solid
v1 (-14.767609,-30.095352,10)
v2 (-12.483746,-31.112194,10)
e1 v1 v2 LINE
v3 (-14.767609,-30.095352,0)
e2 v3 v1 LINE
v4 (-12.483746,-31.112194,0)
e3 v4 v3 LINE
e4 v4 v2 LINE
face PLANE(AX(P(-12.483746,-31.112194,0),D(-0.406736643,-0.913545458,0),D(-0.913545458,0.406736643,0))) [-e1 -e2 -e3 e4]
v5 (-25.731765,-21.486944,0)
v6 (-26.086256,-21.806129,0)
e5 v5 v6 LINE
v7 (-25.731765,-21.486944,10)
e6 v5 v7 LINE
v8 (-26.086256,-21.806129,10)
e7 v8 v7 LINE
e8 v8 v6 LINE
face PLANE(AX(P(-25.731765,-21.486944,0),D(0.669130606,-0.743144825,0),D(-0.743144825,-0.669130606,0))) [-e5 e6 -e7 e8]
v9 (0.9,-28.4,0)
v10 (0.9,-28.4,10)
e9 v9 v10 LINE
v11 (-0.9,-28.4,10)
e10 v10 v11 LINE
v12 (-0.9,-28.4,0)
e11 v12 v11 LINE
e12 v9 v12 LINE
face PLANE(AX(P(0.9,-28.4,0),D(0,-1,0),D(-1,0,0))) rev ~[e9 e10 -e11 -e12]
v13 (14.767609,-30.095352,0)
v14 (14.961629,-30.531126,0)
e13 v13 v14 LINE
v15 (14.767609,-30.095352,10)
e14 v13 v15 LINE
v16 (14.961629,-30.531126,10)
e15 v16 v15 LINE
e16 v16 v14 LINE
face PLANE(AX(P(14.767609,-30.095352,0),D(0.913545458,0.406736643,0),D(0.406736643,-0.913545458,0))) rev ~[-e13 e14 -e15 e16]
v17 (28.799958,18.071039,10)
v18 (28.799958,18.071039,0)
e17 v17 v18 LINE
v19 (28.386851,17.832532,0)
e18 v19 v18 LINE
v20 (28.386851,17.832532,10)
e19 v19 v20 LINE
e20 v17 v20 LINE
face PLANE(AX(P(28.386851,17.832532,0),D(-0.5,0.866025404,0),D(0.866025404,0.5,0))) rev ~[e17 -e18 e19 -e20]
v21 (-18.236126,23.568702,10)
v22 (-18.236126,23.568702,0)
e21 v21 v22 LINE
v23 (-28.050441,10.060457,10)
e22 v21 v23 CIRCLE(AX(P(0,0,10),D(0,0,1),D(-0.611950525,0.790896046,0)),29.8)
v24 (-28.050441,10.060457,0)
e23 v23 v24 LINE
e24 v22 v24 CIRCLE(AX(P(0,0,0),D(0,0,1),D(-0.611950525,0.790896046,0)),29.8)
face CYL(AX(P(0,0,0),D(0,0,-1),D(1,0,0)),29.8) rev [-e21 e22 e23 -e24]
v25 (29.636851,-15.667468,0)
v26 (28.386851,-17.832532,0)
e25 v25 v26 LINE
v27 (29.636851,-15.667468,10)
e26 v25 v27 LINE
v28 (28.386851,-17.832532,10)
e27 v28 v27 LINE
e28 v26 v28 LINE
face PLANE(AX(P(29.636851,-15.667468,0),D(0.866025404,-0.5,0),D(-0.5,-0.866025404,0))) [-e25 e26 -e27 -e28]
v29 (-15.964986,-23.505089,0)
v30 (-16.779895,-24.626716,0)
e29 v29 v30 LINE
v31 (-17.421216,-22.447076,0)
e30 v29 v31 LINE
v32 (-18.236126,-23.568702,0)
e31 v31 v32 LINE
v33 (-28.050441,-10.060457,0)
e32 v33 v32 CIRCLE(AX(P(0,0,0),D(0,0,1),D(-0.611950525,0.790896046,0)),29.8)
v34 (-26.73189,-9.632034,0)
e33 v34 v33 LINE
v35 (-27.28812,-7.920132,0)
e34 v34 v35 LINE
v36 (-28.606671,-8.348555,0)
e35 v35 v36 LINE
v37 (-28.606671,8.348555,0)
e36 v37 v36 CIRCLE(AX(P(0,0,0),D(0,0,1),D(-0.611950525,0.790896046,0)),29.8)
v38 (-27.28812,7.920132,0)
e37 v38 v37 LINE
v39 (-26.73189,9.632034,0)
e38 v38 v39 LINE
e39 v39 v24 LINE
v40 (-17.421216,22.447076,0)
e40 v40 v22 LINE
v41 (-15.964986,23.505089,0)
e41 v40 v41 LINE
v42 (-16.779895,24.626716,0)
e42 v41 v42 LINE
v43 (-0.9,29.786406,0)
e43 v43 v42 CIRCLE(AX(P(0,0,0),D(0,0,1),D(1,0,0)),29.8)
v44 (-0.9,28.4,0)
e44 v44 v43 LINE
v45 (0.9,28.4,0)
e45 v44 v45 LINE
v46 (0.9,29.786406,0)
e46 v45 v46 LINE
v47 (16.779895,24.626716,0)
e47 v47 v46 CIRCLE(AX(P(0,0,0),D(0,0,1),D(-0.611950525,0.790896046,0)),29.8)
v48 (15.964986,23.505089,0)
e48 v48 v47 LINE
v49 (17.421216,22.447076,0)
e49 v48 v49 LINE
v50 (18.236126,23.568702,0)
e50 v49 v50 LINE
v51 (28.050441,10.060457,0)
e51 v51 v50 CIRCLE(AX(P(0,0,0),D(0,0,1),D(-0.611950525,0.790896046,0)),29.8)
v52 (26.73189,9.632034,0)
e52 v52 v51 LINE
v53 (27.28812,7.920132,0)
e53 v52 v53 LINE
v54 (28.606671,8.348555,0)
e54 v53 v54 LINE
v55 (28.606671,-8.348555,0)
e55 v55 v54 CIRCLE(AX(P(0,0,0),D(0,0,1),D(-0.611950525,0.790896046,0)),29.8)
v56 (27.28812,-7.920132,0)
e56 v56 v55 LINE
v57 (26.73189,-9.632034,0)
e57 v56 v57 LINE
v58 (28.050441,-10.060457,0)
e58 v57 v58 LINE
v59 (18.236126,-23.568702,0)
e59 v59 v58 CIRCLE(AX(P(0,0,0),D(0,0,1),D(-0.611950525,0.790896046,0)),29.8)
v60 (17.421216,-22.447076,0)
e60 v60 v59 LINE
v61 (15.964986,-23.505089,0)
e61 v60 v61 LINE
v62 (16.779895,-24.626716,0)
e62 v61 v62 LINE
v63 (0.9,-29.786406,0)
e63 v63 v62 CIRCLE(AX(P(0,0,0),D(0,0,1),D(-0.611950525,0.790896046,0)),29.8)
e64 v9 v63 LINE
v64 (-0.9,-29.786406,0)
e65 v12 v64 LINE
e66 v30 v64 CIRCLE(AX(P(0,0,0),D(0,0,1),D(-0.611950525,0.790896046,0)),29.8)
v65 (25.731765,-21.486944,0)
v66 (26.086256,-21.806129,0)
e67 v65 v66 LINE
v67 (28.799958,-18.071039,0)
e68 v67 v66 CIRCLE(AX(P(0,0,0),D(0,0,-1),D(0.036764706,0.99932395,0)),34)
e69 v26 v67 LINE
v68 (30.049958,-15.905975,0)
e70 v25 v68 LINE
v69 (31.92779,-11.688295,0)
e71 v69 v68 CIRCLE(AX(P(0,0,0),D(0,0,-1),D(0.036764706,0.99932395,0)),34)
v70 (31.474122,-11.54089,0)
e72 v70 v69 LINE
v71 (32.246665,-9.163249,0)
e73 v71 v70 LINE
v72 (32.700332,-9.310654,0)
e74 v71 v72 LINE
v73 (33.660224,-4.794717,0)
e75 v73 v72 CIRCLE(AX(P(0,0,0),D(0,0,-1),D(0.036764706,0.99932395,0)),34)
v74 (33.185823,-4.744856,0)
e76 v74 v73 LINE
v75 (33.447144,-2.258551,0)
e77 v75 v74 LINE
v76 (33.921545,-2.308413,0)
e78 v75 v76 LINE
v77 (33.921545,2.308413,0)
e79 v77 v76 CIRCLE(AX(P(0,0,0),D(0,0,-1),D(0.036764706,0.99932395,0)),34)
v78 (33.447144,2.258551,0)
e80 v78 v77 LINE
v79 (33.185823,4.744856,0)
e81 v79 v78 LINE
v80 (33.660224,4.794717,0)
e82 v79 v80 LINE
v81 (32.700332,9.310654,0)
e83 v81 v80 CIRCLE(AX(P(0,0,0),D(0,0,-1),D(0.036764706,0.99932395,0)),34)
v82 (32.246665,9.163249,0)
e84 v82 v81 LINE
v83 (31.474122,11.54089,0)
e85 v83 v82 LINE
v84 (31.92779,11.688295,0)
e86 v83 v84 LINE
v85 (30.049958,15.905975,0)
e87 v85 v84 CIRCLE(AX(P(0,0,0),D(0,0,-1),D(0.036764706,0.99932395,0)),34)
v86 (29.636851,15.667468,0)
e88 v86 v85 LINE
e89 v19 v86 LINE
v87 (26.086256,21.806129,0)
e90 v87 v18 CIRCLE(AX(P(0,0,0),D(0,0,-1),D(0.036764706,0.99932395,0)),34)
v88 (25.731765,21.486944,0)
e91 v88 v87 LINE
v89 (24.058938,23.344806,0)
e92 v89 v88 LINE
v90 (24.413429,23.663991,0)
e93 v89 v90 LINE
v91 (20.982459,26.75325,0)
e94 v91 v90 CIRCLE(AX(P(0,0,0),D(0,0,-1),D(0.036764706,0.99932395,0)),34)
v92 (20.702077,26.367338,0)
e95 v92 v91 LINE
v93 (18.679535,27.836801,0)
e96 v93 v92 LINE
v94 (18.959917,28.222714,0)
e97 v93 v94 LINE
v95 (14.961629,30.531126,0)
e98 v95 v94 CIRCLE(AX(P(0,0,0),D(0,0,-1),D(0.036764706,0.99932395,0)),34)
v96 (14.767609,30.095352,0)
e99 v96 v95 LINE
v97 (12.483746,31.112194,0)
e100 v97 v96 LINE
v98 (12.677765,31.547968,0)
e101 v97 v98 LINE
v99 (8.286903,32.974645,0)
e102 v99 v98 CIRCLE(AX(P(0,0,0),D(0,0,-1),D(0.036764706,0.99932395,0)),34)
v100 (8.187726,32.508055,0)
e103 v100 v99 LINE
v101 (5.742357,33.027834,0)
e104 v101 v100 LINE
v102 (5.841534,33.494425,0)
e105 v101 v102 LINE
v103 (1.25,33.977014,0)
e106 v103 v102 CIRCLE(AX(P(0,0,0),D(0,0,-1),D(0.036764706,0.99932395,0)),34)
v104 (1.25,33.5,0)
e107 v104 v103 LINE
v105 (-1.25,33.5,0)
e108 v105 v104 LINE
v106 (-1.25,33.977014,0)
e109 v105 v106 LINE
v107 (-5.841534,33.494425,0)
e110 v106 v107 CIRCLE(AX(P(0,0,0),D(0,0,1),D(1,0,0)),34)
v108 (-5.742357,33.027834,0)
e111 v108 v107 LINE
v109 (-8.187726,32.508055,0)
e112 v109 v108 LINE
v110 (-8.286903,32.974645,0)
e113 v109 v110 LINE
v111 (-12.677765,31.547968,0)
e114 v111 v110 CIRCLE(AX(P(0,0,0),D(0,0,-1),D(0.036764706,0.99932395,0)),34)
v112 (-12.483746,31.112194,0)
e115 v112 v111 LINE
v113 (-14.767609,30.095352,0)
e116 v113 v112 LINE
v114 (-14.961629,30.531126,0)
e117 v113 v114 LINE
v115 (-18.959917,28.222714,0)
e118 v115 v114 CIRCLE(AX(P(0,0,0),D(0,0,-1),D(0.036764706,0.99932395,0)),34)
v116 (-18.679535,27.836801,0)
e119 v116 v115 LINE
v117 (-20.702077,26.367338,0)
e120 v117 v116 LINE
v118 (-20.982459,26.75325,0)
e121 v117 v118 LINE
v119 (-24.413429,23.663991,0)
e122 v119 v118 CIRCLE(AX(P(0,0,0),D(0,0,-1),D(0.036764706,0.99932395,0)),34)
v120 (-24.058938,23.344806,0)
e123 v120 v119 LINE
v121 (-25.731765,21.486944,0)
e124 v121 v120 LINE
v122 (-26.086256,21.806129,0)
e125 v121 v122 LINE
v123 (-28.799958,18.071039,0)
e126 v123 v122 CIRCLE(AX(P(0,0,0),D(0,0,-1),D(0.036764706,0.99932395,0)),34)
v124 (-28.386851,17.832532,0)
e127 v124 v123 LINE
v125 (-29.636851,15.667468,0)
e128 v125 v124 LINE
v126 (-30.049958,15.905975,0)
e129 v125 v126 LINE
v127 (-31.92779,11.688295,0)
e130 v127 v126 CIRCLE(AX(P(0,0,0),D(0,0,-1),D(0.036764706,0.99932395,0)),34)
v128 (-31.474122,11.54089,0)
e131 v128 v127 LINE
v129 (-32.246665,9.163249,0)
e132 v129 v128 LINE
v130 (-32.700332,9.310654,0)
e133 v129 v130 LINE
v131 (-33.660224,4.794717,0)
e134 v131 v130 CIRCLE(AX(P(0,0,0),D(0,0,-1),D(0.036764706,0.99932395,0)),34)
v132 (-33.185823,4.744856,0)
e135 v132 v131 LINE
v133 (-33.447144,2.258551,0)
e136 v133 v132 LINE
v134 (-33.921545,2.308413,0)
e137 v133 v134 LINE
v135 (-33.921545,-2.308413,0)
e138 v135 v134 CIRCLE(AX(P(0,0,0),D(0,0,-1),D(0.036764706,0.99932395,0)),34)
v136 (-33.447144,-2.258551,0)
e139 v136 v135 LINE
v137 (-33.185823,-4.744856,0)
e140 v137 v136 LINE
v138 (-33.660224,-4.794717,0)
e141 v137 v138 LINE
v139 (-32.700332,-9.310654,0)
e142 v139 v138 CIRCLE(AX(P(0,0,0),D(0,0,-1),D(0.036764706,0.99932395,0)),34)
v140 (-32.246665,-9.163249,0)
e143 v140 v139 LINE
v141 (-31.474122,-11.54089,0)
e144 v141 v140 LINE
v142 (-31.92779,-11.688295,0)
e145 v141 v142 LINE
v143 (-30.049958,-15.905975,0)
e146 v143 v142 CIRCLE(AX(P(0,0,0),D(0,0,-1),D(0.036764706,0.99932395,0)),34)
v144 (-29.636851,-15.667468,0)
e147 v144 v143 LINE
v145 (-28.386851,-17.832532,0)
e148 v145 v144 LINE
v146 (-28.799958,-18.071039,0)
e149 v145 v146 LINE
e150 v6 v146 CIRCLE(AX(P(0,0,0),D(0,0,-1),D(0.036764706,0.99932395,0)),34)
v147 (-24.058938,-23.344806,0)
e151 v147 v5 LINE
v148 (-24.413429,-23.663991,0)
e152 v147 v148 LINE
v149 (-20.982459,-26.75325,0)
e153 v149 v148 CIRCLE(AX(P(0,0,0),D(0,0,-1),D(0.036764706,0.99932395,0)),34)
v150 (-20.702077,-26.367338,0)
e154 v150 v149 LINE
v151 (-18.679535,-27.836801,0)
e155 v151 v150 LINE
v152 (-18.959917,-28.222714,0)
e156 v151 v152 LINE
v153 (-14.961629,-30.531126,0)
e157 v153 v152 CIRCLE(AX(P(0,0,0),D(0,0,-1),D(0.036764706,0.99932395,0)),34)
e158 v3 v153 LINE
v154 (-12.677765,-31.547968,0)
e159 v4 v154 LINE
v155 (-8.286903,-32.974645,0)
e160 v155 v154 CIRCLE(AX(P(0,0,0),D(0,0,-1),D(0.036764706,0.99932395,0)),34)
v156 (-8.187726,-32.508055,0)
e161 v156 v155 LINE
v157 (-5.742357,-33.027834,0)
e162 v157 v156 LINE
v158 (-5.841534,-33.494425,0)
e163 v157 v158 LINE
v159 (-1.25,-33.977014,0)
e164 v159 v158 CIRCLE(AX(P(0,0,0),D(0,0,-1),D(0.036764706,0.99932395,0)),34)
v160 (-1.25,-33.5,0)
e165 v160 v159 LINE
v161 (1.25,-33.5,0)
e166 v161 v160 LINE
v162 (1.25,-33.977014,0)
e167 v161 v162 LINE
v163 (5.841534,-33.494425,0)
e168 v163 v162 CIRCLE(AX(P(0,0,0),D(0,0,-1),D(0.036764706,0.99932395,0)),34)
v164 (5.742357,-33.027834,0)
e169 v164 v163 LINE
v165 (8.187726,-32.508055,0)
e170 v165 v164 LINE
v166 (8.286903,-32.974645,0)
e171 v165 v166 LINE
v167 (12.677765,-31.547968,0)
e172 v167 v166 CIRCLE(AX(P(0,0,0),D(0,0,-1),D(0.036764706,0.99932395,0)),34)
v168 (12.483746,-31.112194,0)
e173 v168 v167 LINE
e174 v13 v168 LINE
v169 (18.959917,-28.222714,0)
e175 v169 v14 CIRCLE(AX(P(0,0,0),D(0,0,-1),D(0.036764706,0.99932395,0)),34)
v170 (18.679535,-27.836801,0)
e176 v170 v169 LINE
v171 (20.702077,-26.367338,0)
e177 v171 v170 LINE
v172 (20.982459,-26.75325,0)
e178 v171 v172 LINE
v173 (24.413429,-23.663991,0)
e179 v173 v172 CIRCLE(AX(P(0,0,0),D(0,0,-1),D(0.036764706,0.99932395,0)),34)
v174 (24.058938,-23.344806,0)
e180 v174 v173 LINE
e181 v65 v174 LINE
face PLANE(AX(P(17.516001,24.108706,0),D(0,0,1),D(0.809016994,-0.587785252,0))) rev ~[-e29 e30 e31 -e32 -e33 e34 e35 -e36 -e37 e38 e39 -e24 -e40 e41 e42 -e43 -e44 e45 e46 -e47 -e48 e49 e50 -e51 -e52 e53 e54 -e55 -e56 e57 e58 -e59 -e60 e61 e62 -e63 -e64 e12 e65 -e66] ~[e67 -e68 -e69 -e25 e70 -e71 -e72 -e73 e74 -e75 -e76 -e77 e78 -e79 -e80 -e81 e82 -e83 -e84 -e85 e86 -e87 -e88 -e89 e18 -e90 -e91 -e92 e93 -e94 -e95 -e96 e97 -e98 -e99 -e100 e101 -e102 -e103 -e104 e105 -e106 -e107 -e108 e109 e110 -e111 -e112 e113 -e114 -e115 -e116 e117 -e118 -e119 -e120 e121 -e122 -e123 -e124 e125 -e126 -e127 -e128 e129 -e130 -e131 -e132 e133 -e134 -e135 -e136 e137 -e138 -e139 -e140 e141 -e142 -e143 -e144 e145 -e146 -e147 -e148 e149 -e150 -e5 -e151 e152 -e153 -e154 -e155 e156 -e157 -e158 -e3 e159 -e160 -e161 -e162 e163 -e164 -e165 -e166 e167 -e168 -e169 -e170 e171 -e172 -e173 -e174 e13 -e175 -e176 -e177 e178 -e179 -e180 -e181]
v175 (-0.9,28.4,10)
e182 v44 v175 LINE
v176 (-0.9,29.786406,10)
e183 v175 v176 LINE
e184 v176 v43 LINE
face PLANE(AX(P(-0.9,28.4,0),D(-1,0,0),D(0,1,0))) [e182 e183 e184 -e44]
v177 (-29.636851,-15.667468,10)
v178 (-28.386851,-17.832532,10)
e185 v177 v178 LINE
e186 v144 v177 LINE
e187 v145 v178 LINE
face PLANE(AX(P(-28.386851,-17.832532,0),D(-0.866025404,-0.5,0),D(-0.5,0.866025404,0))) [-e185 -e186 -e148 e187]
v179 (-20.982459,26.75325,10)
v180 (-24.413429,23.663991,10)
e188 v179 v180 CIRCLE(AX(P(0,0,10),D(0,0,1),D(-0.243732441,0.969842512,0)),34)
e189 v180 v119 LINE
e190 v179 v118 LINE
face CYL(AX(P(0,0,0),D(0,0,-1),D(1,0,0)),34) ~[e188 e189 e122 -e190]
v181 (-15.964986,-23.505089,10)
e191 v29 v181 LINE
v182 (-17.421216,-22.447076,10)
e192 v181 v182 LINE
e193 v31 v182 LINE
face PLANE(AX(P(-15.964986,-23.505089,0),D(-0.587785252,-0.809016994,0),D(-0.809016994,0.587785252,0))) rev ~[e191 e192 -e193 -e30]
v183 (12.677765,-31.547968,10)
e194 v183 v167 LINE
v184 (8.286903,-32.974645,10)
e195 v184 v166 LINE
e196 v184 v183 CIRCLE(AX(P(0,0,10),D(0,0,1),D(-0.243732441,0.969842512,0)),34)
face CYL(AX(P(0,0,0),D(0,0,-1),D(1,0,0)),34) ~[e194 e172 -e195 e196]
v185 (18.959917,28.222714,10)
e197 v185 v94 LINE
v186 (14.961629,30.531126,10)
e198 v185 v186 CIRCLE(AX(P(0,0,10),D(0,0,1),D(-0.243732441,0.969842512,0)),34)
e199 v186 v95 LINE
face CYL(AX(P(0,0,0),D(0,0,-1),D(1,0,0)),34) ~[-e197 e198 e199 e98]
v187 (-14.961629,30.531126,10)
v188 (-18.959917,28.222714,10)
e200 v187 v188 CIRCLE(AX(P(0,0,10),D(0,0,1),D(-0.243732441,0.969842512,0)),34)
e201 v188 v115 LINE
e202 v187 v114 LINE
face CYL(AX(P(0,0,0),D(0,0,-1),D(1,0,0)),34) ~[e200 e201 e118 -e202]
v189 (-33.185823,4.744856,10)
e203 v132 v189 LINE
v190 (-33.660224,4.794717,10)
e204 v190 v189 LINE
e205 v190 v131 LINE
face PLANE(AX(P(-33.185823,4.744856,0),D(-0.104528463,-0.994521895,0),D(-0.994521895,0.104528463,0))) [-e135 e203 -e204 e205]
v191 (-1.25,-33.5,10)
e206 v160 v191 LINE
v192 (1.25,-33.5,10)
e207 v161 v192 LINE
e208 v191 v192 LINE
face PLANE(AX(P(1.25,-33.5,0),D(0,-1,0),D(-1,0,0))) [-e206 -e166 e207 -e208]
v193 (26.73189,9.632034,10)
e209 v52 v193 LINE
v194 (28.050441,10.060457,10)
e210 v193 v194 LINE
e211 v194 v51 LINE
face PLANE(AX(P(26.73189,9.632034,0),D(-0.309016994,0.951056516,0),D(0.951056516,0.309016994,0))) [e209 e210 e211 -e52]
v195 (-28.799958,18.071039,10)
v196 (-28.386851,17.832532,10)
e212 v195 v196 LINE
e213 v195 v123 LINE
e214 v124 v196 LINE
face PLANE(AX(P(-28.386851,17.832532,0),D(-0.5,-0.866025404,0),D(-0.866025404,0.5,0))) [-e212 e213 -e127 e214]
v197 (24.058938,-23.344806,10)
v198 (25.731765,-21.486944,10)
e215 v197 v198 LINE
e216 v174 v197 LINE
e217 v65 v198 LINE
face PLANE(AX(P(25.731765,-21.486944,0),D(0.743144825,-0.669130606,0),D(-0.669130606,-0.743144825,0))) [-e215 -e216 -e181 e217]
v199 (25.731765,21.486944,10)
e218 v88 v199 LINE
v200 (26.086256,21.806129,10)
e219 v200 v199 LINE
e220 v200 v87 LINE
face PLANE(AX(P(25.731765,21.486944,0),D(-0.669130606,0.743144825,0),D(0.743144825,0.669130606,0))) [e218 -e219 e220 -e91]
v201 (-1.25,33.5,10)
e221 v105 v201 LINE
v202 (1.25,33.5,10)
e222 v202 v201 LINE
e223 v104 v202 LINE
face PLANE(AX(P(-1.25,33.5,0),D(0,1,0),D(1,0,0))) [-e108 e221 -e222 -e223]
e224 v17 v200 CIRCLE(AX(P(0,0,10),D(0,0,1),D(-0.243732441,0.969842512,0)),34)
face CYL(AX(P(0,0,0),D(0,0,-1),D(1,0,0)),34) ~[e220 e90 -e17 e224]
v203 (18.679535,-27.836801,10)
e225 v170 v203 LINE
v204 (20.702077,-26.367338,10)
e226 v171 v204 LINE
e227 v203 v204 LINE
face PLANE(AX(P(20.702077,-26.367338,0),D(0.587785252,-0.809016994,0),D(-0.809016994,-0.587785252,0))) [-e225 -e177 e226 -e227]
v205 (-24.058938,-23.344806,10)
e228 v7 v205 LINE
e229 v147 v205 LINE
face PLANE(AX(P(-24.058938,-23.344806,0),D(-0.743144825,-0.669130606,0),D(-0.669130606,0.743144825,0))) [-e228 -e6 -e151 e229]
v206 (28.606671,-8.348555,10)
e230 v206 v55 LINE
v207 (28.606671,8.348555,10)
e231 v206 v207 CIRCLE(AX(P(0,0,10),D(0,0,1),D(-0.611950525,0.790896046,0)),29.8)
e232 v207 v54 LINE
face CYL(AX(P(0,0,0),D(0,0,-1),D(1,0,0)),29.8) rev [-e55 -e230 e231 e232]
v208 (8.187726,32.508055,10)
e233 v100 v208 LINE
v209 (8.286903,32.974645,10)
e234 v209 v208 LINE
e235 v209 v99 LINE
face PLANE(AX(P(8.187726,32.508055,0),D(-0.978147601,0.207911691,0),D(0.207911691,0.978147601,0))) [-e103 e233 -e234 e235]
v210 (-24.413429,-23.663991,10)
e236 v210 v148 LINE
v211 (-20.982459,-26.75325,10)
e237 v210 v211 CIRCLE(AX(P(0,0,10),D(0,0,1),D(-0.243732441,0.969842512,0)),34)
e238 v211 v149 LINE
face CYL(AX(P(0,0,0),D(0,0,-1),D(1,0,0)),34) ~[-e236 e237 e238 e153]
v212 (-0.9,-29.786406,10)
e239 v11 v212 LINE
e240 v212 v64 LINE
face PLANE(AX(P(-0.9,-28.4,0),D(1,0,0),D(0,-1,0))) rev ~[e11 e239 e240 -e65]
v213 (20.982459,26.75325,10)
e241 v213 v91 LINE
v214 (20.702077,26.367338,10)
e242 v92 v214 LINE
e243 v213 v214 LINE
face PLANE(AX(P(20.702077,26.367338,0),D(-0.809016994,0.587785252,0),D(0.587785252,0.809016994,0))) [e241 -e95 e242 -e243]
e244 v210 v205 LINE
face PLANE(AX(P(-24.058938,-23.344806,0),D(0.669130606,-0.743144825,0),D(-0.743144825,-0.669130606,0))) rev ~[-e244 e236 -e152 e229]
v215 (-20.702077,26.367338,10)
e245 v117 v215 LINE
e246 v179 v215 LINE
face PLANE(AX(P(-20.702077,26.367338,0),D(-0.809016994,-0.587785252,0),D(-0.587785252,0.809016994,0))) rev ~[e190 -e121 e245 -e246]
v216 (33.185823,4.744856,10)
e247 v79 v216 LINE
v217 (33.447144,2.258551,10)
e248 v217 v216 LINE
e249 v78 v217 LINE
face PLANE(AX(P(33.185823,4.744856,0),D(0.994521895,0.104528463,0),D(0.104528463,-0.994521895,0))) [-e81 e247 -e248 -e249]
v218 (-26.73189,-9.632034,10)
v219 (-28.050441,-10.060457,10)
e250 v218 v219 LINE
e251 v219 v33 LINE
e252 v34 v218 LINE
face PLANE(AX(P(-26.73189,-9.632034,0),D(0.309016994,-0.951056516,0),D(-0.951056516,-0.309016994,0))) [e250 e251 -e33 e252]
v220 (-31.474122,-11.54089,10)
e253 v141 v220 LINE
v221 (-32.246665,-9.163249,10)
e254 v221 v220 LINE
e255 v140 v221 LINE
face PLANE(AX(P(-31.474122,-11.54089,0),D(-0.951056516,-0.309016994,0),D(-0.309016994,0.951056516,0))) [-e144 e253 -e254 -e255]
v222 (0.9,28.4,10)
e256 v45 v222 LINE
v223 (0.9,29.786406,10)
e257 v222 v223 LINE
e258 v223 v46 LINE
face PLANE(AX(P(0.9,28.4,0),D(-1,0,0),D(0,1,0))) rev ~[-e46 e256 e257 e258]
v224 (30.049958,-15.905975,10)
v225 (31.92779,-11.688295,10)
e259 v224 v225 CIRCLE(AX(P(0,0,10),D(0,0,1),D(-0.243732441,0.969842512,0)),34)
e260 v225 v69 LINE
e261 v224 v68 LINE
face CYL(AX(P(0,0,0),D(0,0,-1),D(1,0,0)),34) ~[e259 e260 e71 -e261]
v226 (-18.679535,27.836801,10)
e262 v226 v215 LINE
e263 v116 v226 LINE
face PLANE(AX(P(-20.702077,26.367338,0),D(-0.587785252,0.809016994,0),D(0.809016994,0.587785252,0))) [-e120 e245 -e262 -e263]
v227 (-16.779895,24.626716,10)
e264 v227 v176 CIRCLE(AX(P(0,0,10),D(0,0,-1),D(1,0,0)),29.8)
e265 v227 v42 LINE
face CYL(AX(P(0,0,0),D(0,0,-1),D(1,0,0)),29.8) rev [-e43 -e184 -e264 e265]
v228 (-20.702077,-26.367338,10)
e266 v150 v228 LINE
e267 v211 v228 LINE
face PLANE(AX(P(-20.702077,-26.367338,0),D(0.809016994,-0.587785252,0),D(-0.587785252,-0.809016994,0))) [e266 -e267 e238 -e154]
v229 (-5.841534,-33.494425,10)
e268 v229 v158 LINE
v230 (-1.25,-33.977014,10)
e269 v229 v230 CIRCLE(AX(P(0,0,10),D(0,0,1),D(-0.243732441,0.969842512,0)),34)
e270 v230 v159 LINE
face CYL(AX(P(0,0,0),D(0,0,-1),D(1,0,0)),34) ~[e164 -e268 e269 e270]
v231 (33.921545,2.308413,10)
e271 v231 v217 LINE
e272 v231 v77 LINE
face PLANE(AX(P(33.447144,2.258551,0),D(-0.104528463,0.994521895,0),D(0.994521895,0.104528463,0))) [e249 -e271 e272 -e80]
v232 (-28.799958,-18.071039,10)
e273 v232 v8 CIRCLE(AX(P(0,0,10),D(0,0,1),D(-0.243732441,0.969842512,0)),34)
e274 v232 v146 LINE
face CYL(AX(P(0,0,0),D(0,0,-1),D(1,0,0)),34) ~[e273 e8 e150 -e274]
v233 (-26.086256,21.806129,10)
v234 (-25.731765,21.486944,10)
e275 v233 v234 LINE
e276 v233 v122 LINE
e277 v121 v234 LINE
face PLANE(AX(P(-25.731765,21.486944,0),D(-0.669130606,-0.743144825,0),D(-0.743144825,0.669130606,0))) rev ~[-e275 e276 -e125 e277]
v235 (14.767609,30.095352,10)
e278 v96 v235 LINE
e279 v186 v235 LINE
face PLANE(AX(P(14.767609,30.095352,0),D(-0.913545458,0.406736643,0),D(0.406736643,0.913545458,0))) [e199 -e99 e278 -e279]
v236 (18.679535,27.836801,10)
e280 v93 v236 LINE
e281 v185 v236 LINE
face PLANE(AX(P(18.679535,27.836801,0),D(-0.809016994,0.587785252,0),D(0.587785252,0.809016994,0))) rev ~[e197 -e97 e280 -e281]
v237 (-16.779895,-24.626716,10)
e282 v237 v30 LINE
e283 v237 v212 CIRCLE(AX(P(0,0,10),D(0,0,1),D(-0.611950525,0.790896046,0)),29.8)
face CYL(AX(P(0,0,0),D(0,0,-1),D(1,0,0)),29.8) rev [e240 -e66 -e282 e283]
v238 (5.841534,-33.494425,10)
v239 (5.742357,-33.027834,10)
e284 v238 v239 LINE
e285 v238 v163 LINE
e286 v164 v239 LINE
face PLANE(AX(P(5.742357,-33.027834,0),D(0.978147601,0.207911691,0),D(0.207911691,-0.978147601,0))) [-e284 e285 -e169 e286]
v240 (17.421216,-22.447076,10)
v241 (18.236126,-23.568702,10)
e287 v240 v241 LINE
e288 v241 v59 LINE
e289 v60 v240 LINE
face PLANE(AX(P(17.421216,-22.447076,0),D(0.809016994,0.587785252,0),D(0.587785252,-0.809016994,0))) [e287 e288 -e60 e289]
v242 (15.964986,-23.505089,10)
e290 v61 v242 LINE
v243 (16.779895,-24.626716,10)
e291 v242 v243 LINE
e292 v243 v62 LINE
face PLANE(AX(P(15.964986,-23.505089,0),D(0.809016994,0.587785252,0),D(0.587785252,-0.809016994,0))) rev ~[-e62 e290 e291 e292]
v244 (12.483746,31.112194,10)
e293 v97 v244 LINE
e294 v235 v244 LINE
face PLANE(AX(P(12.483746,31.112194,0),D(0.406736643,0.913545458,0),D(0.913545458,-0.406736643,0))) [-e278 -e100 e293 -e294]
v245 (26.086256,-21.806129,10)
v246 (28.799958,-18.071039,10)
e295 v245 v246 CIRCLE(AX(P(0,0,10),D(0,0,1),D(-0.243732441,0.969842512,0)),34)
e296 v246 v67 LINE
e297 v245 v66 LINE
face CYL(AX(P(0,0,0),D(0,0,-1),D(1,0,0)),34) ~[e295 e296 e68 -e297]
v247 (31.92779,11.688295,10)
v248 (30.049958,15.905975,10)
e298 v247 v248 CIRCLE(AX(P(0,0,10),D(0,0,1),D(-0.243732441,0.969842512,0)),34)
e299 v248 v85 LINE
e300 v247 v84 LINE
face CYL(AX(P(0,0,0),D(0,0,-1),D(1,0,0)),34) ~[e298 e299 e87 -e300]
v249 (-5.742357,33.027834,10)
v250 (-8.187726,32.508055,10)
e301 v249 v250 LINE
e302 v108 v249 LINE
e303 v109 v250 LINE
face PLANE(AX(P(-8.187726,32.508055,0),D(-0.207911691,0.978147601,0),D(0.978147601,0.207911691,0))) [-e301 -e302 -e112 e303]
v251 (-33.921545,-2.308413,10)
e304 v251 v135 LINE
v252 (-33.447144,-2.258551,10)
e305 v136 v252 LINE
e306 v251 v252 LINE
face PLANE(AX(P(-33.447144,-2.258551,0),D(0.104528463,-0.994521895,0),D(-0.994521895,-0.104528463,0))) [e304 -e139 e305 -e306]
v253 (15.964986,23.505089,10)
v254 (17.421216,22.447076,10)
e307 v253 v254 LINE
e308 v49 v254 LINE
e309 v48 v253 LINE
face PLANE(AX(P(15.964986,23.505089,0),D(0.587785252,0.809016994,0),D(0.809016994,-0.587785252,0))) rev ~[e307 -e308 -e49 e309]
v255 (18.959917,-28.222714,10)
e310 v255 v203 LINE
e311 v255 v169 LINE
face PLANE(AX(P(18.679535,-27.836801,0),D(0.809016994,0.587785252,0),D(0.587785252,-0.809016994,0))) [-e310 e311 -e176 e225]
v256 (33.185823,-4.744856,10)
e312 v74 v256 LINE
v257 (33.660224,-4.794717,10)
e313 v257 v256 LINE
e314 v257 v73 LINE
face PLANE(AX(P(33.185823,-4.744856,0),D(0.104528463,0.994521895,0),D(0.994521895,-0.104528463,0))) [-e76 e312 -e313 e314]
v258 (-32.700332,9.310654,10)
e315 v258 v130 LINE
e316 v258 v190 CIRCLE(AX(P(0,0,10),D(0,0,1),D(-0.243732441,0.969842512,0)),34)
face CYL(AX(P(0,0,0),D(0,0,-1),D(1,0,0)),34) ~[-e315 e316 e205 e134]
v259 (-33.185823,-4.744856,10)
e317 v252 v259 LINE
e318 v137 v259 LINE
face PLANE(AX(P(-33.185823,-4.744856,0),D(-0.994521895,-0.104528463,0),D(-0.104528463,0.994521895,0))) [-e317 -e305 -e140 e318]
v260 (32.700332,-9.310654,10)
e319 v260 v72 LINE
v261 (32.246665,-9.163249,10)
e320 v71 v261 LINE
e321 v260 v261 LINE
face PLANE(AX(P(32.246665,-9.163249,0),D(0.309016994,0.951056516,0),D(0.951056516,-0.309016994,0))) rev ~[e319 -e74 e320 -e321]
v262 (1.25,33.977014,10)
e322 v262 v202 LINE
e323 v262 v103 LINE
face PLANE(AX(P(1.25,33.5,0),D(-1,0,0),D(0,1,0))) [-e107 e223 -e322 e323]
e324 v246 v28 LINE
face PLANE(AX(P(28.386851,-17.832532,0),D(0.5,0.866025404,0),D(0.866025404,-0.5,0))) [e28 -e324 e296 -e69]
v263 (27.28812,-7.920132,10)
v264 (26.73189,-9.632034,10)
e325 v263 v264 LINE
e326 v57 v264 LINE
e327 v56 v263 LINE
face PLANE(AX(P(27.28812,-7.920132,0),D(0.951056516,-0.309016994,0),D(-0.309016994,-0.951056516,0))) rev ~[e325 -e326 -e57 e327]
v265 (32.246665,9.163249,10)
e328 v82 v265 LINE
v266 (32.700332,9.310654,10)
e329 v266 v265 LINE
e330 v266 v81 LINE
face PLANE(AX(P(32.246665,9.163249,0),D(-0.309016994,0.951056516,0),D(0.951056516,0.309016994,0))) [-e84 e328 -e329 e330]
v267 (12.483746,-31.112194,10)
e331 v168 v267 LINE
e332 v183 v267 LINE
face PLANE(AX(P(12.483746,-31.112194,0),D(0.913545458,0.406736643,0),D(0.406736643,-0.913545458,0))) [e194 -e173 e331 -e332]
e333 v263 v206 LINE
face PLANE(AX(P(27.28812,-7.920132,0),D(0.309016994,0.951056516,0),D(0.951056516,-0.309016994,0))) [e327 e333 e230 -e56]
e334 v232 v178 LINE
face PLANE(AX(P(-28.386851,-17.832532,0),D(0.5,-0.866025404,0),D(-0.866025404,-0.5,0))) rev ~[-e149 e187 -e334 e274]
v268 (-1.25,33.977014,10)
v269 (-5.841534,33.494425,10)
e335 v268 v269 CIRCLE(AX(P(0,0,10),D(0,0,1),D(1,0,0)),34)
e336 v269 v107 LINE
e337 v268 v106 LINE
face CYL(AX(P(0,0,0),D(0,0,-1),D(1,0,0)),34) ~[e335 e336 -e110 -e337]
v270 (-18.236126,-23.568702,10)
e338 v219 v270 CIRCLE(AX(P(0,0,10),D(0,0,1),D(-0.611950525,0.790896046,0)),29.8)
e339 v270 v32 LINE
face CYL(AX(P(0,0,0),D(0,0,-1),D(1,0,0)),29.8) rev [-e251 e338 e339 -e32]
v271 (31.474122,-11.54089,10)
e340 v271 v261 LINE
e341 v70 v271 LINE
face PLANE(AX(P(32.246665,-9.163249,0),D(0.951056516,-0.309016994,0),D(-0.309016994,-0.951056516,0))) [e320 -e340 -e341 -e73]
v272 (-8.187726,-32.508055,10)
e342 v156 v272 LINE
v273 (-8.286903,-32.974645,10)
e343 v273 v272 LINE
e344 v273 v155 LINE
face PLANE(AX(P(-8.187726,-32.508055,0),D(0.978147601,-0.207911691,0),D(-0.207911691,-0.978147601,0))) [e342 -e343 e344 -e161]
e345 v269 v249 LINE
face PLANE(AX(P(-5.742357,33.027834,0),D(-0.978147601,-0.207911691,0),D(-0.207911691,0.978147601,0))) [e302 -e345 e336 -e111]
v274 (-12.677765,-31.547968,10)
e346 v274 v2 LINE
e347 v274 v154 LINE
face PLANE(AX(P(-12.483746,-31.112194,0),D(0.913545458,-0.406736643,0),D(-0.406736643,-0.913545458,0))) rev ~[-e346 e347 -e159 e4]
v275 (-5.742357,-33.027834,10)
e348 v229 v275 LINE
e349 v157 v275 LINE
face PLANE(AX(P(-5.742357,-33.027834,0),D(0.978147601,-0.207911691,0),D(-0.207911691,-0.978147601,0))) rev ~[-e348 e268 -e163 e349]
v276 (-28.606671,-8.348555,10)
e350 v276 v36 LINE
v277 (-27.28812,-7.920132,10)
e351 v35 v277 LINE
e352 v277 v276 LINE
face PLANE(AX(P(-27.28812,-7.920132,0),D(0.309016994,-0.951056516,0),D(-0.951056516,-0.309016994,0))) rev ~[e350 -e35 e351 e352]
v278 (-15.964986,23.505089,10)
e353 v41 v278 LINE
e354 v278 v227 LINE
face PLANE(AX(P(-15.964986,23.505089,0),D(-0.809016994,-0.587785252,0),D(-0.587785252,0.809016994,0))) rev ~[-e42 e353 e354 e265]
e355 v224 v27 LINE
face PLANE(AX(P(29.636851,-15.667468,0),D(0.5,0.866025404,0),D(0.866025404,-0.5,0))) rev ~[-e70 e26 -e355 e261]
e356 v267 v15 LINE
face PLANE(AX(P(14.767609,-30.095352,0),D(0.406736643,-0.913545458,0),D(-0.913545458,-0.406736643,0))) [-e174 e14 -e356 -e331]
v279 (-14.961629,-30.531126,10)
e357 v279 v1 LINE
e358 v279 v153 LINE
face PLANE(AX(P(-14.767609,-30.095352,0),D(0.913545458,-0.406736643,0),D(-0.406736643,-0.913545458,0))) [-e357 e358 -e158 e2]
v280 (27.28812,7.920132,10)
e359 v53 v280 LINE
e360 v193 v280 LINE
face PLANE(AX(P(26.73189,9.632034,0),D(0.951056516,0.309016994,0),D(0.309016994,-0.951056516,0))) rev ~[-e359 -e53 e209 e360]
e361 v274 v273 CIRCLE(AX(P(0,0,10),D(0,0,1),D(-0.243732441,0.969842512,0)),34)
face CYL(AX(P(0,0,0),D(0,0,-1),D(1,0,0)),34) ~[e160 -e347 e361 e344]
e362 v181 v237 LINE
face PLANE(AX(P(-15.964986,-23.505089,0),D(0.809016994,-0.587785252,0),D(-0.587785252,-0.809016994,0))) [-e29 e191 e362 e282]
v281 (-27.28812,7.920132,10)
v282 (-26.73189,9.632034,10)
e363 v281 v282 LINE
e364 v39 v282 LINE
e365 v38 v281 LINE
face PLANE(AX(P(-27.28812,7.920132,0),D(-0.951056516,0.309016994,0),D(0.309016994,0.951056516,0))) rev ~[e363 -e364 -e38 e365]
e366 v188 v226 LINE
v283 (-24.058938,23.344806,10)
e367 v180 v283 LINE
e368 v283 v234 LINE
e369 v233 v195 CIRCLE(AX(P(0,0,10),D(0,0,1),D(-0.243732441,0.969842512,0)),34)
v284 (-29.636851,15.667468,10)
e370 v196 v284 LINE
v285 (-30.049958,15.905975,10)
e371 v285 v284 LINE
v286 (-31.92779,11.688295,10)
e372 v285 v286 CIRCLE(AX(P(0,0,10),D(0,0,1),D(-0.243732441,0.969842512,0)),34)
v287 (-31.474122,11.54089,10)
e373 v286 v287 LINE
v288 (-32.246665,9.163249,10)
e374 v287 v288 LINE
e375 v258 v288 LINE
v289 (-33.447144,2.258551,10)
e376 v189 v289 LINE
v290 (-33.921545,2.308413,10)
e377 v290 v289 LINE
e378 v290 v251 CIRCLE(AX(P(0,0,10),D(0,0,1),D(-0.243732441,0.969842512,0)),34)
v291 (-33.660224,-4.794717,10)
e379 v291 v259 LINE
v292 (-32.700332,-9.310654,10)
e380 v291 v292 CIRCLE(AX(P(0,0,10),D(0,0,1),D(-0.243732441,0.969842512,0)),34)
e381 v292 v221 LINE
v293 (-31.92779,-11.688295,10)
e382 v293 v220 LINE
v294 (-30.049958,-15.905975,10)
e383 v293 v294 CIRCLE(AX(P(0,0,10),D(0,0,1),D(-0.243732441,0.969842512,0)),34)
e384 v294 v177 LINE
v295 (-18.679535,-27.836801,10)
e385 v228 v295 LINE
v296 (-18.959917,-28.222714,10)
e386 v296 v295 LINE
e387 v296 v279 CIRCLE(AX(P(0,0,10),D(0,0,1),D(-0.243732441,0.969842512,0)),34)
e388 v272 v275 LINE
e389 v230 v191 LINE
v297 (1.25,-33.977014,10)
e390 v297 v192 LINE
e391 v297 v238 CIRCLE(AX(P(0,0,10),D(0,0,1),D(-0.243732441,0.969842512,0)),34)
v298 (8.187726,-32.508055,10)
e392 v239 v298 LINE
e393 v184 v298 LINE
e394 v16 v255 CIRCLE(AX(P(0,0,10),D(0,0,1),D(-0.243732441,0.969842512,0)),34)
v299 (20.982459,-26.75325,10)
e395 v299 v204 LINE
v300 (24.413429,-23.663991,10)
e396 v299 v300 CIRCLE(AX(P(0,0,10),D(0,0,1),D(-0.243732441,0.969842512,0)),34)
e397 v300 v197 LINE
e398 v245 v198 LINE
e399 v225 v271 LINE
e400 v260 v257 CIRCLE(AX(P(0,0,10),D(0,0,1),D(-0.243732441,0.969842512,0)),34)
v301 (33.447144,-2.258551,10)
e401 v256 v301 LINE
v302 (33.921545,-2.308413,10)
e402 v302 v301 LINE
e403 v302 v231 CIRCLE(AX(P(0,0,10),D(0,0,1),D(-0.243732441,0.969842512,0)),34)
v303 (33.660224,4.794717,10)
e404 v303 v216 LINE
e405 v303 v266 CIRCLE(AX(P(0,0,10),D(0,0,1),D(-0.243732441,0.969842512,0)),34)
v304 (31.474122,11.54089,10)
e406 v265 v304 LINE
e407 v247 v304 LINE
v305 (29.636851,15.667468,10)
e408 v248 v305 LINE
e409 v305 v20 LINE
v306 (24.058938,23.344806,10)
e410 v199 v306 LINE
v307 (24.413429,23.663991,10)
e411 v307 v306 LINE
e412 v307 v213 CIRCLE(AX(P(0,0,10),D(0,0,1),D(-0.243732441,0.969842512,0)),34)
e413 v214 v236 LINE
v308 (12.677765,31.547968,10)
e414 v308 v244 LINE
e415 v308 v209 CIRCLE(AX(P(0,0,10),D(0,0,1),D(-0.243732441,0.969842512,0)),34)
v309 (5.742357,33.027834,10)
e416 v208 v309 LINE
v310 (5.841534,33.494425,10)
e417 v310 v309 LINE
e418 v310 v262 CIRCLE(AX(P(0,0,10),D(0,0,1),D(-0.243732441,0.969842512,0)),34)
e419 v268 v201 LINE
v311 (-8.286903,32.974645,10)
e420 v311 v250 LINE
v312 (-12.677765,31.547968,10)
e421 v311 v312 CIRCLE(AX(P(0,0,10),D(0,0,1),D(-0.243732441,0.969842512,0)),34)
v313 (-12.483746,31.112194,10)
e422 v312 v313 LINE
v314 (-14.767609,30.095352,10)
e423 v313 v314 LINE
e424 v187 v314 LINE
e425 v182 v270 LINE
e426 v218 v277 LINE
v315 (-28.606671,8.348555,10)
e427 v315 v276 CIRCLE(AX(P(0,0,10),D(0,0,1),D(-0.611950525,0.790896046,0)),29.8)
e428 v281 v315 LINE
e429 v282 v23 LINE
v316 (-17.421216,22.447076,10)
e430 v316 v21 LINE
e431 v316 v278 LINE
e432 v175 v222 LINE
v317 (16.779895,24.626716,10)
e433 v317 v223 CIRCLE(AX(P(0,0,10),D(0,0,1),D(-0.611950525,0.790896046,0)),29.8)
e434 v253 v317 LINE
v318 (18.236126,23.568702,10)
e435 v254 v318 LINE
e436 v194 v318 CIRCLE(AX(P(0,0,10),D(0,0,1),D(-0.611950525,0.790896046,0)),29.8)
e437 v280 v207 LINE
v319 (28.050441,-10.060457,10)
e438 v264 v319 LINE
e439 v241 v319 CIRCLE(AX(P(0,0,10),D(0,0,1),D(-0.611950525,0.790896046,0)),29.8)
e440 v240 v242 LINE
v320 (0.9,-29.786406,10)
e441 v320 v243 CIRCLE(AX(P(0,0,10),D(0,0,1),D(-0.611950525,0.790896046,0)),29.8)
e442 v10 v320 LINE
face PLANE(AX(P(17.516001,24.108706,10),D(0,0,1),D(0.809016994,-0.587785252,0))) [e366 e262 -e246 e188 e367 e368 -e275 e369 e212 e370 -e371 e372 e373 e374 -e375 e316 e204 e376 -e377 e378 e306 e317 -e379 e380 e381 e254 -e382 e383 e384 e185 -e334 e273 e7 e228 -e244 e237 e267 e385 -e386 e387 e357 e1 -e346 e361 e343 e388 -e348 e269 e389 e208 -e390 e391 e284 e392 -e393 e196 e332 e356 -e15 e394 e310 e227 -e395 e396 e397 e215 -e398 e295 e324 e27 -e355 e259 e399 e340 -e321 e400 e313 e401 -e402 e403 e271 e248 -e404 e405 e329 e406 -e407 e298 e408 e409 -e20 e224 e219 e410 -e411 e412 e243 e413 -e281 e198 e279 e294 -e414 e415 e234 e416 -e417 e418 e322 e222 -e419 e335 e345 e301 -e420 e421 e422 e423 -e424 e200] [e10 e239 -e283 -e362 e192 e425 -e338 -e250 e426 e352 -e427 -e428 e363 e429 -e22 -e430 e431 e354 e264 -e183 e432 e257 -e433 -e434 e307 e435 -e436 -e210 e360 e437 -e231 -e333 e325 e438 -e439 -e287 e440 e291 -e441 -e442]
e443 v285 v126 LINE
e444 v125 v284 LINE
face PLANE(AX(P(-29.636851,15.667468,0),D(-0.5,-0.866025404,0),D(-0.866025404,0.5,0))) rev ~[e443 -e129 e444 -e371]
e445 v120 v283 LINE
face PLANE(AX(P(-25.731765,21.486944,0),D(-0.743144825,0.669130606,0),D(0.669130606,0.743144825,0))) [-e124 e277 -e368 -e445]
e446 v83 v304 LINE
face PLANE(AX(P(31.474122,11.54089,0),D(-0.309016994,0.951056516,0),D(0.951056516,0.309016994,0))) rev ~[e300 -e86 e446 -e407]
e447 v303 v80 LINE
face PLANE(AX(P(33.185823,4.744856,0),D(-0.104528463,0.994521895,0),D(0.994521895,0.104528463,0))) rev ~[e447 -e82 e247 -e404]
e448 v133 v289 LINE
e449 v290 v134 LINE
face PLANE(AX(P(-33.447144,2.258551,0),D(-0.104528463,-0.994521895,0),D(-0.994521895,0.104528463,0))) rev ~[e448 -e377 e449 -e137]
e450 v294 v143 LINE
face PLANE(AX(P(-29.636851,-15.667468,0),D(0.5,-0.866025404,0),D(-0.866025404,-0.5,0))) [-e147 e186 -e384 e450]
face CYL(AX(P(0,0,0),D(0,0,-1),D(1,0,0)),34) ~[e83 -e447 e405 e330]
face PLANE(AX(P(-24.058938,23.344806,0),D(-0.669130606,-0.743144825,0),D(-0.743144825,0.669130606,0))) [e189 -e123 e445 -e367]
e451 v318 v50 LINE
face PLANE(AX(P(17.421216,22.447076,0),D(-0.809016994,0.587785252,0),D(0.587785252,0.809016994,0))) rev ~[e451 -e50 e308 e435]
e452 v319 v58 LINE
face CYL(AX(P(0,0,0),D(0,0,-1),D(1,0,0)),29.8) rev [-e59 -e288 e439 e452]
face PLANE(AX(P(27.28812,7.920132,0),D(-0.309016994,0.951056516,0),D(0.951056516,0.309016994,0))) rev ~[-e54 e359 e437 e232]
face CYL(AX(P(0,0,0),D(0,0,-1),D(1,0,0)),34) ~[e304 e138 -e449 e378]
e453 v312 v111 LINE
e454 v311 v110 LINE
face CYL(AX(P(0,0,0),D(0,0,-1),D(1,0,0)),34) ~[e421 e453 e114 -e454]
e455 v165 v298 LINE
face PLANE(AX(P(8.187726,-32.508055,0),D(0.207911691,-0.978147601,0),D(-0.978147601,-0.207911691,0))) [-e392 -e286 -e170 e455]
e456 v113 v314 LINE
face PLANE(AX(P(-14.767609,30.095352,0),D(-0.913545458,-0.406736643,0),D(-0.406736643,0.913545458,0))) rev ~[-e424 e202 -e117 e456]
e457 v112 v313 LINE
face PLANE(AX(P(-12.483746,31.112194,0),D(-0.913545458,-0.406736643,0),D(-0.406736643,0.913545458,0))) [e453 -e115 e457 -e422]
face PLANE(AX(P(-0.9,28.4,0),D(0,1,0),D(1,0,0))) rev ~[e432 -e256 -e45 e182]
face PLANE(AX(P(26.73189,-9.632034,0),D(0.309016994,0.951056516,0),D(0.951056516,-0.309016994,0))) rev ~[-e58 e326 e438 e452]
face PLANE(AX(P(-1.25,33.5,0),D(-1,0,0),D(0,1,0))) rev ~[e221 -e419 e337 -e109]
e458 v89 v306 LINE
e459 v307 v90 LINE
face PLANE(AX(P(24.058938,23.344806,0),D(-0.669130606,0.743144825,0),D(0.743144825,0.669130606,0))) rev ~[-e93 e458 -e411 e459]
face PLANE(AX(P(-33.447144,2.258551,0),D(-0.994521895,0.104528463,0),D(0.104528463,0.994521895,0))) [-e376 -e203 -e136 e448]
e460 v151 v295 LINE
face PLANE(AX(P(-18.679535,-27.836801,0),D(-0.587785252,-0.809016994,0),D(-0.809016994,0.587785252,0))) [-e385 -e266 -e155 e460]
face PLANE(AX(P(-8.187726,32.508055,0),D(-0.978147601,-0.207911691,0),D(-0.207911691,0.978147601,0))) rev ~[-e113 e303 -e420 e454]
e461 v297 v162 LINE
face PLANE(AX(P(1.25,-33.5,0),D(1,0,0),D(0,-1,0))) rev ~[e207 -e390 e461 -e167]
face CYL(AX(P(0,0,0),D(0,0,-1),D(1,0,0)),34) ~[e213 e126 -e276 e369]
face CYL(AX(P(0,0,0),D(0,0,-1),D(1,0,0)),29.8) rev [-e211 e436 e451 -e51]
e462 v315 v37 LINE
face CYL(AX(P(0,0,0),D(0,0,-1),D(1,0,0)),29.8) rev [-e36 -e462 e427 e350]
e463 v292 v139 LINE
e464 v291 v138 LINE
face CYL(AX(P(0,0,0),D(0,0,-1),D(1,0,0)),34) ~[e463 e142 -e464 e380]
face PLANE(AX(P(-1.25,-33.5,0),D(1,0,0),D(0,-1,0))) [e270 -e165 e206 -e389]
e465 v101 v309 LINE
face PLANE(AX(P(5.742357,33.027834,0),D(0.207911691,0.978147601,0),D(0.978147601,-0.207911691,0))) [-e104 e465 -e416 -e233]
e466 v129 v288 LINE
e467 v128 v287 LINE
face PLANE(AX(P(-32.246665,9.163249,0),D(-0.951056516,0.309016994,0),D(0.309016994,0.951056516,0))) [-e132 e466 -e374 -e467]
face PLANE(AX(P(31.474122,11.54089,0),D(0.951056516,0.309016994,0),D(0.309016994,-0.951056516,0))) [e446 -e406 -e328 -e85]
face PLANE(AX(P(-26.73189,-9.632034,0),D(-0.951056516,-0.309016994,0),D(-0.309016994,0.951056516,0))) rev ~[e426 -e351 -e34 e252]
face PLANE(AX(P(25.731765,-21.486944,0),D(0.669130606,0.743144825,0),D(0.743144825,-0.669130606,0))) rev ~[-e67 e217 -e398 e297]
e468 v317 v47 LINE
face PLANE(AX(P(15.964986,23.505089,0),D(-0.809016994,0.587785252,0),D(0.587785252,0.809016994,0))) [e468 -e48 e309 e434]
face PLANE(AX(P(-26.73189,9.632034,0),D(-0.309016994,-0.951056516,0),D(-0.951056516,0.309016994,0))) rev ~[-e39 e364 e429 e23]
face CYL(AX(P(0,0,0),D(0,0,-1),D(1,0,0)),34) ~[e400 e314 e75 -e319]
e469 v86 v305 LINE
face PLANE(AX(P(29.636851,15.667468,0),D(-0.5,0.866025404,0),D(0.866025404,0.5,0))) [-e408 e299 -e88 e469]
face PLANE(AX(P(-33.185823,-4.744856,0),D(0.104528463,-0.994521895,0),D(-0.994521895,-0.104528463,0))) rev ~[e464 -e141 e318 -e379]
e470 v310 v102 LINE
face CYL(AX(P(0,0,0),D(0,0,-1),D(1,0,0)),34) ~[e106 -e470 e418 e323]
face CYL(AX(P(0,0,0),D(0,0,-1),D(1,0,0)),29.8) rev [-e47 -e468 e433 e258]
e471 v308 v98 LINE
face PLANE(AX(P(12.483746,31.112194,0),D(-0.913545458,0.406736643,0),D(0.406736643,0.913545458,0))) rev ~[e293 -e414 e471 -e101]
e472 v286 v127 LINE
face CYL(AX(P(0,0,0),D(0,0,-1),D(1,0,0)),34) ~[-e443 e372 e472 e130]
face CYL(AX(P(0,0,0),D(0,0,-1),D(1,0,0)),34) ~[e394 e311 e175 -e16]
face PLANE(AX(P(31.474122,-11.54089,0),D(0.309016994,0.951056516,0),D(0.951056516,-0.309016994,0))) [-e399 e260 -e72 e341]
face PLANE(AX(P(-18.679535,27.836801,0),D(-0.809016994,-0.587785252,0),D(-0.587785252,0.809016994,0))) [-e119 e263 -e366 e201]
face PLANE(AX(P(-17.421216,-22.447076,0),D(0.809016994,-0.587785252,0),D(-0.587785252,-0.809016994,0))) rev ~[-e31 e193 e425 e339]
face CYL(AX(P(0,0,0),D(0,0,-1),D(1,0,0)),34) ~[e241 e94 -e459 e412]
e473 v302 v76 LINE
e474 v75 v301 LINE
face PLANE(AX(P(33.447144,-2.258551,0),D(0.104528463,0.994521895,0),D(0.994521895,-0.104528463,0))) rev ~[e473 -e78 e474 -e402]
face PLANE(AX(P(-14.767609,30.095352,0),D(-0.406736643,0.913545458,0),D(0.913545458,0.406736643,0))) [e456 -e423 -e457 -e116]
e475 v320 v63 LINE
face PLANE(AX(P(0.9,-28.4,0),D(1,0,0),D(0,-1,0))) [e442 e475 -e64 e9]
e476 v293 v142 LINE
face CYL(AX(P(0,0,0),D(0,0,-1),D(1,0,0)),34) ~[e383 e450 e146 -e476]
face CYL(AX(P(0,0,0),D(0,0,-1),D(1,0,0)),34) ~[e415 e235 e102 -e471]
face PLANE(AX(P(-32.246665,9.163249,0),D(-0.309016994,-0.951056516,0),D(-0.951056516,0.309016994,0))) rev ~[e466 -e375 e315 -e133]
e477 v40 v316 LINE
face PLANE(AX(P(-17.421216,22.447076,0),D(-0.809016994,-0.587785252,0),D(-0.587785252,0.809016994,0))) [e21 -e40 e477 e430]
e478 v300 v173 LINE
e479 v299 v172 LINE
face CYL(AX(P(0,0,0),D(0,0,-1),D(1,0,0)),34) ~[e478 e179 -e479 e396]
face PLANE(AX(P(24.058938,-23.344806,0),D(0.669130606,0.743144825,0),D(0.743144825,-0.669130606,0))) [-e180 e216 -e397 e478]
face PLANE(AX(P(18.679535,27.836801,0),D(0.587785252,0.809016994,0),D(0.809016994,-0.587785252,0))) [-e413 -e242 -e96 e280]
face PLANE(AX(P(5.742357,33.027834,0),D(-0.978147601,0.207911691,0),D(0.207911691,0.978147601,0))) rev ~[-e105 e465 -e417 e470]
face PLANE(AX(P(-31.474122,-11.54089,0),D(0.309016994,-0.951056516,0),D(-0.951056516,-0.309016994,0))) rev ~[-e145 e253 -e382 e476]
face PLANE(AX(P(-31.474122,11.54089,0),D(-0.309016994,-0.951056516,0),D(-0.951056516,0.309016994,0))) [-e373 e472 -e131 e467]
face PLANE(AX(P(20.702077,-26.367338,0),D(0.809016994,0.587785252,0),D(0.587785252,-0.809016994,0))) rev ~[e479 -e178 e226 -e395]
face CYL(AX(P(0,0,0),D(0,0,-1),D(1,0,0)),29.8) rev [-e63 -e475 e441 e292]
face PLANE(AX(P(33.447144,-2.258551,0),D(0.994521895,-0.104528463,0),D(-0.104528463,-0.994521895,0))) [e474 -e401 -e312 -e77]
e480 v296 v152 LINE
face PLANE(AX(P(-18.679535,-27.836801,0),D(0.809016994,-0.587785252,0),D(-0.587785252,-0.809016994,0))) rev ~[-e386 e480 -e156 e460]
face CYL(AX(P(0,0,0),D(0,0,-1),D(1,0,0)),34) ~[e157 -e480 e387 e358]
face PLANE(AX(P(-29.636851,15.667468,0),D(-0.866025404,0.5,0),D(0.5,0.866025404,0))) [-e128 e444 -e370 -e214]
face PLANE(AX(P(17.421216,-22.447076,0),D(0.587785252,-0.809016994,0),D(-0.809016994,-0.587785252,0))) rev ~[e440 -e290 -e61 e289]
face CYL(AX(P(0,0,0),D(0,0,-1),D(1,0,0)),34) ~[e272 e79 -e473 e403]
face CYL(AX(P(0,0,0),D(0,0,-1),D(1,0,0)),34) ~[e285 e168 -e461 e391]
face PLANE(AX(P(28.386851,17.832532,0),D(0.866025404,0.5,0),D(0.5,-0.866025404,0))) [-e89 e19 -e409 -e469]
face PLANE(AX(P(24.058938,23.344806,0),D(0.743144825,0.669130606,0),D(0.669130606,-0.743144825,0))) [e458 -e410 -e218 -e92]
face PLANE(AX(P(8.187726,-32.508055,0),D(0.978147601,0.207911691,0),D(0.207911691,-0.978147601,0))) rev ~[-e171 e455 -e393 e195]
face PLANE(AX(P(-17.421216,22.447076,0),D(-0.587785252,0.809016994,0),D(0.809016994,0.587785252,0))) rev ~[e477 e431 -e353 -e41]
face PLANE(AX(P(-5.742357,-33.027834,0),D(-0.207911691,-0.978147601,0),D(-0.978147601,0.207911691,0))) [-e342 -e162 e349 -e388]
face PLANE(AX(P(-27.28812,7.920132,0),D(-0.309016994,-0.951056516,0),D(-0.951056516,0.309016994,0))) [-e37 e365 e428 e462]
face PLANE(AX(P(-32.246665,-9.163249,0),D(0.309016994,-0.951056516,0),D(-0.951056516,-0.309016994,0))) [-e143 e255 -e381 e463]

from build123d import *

# Parameters (mm, degrees)
SKETCH2_R           = 34
BOSS_EXTRUDE1_DEPTH = 10
SKETCH3_R           = 29.8
CUT_EXTRUDE1_DEPTH  = 50.112116631
SKETCH4_W           = 1.8
SKETCH4_H           = 2.8
BOSS_EXTRUDE2_DEPTH = 10
CIRPATTERN1_COUNT   = 10
SKETCH5_W           = 2.5
SKETCH5_H           = 1
CUT_EXTRUDE2_DEPTH  = 50.112116631
CIRPATTERN3_COUNT   = 30


with BuildPart() as part:
    # Sketch2 → Boss-Extrude1 (new body)
    with BuildSketch(Plane.XY):
        Circle(SKETCH2_R)
    extrude(amount=BOSS_EXTRUDE1_DEPTH)

    # Sketch3 → Cut-Extrude1 (cut, through all)
    with BuildSketch(Plane.XY):
        Circle(SKETCH3_R)
    extrude(amount=CUT_EXTRUDE1_DEPTH, mode=Mode.SUBTRACT)

    # Sketch4 → Boss-Extrude2 (add)
    with BuildSketch(Plane.XY):
        with Locations((0, 29.8)):
            Rectangle(SKETCH4_W, SKETCH4_H)
    boss_extrude2 = extrude(amount=BOSS_EXTRUDE2_DEPTH)

    # CirPattern1: Boss-Extrude2 ×10 about axis
    cirpattern1_axis = Axis((0, 0, 0), (0, 0, 1))
    for i in range(1, CIRPATTERN1_COUNT):
        add(boss_extrude2.rotate(cirpattern1_axis, i * 360 / CIRPATTERN1_COUNT))

    # Sketch5 → Cut-Extrude2 (cut, through all)
    with BuildSketch(Plane.XY):
        with Locations((0, 34)):
            Rectangle(SKETCH5_W, SKETCH5_H)
    cut_extrude2 = extrude(amount=CUT_EXTRUDE2_DEPTH, mode=Mode.SUBTRACT)

    # CirPattern3: Cut-Extrude2 ×30 about axis
    cirpattern3_axis = Axis((0, 0, 0), (0, 0, 1))
    for i in range(1, CIRPATTERN3_COUNT):
        add(cut_extrude2.rotate(cirpattern3_axis, i * 360 / CIRPATTERN3_COUNT), mode=Mode.SUBTRACT)


solid = part.part
